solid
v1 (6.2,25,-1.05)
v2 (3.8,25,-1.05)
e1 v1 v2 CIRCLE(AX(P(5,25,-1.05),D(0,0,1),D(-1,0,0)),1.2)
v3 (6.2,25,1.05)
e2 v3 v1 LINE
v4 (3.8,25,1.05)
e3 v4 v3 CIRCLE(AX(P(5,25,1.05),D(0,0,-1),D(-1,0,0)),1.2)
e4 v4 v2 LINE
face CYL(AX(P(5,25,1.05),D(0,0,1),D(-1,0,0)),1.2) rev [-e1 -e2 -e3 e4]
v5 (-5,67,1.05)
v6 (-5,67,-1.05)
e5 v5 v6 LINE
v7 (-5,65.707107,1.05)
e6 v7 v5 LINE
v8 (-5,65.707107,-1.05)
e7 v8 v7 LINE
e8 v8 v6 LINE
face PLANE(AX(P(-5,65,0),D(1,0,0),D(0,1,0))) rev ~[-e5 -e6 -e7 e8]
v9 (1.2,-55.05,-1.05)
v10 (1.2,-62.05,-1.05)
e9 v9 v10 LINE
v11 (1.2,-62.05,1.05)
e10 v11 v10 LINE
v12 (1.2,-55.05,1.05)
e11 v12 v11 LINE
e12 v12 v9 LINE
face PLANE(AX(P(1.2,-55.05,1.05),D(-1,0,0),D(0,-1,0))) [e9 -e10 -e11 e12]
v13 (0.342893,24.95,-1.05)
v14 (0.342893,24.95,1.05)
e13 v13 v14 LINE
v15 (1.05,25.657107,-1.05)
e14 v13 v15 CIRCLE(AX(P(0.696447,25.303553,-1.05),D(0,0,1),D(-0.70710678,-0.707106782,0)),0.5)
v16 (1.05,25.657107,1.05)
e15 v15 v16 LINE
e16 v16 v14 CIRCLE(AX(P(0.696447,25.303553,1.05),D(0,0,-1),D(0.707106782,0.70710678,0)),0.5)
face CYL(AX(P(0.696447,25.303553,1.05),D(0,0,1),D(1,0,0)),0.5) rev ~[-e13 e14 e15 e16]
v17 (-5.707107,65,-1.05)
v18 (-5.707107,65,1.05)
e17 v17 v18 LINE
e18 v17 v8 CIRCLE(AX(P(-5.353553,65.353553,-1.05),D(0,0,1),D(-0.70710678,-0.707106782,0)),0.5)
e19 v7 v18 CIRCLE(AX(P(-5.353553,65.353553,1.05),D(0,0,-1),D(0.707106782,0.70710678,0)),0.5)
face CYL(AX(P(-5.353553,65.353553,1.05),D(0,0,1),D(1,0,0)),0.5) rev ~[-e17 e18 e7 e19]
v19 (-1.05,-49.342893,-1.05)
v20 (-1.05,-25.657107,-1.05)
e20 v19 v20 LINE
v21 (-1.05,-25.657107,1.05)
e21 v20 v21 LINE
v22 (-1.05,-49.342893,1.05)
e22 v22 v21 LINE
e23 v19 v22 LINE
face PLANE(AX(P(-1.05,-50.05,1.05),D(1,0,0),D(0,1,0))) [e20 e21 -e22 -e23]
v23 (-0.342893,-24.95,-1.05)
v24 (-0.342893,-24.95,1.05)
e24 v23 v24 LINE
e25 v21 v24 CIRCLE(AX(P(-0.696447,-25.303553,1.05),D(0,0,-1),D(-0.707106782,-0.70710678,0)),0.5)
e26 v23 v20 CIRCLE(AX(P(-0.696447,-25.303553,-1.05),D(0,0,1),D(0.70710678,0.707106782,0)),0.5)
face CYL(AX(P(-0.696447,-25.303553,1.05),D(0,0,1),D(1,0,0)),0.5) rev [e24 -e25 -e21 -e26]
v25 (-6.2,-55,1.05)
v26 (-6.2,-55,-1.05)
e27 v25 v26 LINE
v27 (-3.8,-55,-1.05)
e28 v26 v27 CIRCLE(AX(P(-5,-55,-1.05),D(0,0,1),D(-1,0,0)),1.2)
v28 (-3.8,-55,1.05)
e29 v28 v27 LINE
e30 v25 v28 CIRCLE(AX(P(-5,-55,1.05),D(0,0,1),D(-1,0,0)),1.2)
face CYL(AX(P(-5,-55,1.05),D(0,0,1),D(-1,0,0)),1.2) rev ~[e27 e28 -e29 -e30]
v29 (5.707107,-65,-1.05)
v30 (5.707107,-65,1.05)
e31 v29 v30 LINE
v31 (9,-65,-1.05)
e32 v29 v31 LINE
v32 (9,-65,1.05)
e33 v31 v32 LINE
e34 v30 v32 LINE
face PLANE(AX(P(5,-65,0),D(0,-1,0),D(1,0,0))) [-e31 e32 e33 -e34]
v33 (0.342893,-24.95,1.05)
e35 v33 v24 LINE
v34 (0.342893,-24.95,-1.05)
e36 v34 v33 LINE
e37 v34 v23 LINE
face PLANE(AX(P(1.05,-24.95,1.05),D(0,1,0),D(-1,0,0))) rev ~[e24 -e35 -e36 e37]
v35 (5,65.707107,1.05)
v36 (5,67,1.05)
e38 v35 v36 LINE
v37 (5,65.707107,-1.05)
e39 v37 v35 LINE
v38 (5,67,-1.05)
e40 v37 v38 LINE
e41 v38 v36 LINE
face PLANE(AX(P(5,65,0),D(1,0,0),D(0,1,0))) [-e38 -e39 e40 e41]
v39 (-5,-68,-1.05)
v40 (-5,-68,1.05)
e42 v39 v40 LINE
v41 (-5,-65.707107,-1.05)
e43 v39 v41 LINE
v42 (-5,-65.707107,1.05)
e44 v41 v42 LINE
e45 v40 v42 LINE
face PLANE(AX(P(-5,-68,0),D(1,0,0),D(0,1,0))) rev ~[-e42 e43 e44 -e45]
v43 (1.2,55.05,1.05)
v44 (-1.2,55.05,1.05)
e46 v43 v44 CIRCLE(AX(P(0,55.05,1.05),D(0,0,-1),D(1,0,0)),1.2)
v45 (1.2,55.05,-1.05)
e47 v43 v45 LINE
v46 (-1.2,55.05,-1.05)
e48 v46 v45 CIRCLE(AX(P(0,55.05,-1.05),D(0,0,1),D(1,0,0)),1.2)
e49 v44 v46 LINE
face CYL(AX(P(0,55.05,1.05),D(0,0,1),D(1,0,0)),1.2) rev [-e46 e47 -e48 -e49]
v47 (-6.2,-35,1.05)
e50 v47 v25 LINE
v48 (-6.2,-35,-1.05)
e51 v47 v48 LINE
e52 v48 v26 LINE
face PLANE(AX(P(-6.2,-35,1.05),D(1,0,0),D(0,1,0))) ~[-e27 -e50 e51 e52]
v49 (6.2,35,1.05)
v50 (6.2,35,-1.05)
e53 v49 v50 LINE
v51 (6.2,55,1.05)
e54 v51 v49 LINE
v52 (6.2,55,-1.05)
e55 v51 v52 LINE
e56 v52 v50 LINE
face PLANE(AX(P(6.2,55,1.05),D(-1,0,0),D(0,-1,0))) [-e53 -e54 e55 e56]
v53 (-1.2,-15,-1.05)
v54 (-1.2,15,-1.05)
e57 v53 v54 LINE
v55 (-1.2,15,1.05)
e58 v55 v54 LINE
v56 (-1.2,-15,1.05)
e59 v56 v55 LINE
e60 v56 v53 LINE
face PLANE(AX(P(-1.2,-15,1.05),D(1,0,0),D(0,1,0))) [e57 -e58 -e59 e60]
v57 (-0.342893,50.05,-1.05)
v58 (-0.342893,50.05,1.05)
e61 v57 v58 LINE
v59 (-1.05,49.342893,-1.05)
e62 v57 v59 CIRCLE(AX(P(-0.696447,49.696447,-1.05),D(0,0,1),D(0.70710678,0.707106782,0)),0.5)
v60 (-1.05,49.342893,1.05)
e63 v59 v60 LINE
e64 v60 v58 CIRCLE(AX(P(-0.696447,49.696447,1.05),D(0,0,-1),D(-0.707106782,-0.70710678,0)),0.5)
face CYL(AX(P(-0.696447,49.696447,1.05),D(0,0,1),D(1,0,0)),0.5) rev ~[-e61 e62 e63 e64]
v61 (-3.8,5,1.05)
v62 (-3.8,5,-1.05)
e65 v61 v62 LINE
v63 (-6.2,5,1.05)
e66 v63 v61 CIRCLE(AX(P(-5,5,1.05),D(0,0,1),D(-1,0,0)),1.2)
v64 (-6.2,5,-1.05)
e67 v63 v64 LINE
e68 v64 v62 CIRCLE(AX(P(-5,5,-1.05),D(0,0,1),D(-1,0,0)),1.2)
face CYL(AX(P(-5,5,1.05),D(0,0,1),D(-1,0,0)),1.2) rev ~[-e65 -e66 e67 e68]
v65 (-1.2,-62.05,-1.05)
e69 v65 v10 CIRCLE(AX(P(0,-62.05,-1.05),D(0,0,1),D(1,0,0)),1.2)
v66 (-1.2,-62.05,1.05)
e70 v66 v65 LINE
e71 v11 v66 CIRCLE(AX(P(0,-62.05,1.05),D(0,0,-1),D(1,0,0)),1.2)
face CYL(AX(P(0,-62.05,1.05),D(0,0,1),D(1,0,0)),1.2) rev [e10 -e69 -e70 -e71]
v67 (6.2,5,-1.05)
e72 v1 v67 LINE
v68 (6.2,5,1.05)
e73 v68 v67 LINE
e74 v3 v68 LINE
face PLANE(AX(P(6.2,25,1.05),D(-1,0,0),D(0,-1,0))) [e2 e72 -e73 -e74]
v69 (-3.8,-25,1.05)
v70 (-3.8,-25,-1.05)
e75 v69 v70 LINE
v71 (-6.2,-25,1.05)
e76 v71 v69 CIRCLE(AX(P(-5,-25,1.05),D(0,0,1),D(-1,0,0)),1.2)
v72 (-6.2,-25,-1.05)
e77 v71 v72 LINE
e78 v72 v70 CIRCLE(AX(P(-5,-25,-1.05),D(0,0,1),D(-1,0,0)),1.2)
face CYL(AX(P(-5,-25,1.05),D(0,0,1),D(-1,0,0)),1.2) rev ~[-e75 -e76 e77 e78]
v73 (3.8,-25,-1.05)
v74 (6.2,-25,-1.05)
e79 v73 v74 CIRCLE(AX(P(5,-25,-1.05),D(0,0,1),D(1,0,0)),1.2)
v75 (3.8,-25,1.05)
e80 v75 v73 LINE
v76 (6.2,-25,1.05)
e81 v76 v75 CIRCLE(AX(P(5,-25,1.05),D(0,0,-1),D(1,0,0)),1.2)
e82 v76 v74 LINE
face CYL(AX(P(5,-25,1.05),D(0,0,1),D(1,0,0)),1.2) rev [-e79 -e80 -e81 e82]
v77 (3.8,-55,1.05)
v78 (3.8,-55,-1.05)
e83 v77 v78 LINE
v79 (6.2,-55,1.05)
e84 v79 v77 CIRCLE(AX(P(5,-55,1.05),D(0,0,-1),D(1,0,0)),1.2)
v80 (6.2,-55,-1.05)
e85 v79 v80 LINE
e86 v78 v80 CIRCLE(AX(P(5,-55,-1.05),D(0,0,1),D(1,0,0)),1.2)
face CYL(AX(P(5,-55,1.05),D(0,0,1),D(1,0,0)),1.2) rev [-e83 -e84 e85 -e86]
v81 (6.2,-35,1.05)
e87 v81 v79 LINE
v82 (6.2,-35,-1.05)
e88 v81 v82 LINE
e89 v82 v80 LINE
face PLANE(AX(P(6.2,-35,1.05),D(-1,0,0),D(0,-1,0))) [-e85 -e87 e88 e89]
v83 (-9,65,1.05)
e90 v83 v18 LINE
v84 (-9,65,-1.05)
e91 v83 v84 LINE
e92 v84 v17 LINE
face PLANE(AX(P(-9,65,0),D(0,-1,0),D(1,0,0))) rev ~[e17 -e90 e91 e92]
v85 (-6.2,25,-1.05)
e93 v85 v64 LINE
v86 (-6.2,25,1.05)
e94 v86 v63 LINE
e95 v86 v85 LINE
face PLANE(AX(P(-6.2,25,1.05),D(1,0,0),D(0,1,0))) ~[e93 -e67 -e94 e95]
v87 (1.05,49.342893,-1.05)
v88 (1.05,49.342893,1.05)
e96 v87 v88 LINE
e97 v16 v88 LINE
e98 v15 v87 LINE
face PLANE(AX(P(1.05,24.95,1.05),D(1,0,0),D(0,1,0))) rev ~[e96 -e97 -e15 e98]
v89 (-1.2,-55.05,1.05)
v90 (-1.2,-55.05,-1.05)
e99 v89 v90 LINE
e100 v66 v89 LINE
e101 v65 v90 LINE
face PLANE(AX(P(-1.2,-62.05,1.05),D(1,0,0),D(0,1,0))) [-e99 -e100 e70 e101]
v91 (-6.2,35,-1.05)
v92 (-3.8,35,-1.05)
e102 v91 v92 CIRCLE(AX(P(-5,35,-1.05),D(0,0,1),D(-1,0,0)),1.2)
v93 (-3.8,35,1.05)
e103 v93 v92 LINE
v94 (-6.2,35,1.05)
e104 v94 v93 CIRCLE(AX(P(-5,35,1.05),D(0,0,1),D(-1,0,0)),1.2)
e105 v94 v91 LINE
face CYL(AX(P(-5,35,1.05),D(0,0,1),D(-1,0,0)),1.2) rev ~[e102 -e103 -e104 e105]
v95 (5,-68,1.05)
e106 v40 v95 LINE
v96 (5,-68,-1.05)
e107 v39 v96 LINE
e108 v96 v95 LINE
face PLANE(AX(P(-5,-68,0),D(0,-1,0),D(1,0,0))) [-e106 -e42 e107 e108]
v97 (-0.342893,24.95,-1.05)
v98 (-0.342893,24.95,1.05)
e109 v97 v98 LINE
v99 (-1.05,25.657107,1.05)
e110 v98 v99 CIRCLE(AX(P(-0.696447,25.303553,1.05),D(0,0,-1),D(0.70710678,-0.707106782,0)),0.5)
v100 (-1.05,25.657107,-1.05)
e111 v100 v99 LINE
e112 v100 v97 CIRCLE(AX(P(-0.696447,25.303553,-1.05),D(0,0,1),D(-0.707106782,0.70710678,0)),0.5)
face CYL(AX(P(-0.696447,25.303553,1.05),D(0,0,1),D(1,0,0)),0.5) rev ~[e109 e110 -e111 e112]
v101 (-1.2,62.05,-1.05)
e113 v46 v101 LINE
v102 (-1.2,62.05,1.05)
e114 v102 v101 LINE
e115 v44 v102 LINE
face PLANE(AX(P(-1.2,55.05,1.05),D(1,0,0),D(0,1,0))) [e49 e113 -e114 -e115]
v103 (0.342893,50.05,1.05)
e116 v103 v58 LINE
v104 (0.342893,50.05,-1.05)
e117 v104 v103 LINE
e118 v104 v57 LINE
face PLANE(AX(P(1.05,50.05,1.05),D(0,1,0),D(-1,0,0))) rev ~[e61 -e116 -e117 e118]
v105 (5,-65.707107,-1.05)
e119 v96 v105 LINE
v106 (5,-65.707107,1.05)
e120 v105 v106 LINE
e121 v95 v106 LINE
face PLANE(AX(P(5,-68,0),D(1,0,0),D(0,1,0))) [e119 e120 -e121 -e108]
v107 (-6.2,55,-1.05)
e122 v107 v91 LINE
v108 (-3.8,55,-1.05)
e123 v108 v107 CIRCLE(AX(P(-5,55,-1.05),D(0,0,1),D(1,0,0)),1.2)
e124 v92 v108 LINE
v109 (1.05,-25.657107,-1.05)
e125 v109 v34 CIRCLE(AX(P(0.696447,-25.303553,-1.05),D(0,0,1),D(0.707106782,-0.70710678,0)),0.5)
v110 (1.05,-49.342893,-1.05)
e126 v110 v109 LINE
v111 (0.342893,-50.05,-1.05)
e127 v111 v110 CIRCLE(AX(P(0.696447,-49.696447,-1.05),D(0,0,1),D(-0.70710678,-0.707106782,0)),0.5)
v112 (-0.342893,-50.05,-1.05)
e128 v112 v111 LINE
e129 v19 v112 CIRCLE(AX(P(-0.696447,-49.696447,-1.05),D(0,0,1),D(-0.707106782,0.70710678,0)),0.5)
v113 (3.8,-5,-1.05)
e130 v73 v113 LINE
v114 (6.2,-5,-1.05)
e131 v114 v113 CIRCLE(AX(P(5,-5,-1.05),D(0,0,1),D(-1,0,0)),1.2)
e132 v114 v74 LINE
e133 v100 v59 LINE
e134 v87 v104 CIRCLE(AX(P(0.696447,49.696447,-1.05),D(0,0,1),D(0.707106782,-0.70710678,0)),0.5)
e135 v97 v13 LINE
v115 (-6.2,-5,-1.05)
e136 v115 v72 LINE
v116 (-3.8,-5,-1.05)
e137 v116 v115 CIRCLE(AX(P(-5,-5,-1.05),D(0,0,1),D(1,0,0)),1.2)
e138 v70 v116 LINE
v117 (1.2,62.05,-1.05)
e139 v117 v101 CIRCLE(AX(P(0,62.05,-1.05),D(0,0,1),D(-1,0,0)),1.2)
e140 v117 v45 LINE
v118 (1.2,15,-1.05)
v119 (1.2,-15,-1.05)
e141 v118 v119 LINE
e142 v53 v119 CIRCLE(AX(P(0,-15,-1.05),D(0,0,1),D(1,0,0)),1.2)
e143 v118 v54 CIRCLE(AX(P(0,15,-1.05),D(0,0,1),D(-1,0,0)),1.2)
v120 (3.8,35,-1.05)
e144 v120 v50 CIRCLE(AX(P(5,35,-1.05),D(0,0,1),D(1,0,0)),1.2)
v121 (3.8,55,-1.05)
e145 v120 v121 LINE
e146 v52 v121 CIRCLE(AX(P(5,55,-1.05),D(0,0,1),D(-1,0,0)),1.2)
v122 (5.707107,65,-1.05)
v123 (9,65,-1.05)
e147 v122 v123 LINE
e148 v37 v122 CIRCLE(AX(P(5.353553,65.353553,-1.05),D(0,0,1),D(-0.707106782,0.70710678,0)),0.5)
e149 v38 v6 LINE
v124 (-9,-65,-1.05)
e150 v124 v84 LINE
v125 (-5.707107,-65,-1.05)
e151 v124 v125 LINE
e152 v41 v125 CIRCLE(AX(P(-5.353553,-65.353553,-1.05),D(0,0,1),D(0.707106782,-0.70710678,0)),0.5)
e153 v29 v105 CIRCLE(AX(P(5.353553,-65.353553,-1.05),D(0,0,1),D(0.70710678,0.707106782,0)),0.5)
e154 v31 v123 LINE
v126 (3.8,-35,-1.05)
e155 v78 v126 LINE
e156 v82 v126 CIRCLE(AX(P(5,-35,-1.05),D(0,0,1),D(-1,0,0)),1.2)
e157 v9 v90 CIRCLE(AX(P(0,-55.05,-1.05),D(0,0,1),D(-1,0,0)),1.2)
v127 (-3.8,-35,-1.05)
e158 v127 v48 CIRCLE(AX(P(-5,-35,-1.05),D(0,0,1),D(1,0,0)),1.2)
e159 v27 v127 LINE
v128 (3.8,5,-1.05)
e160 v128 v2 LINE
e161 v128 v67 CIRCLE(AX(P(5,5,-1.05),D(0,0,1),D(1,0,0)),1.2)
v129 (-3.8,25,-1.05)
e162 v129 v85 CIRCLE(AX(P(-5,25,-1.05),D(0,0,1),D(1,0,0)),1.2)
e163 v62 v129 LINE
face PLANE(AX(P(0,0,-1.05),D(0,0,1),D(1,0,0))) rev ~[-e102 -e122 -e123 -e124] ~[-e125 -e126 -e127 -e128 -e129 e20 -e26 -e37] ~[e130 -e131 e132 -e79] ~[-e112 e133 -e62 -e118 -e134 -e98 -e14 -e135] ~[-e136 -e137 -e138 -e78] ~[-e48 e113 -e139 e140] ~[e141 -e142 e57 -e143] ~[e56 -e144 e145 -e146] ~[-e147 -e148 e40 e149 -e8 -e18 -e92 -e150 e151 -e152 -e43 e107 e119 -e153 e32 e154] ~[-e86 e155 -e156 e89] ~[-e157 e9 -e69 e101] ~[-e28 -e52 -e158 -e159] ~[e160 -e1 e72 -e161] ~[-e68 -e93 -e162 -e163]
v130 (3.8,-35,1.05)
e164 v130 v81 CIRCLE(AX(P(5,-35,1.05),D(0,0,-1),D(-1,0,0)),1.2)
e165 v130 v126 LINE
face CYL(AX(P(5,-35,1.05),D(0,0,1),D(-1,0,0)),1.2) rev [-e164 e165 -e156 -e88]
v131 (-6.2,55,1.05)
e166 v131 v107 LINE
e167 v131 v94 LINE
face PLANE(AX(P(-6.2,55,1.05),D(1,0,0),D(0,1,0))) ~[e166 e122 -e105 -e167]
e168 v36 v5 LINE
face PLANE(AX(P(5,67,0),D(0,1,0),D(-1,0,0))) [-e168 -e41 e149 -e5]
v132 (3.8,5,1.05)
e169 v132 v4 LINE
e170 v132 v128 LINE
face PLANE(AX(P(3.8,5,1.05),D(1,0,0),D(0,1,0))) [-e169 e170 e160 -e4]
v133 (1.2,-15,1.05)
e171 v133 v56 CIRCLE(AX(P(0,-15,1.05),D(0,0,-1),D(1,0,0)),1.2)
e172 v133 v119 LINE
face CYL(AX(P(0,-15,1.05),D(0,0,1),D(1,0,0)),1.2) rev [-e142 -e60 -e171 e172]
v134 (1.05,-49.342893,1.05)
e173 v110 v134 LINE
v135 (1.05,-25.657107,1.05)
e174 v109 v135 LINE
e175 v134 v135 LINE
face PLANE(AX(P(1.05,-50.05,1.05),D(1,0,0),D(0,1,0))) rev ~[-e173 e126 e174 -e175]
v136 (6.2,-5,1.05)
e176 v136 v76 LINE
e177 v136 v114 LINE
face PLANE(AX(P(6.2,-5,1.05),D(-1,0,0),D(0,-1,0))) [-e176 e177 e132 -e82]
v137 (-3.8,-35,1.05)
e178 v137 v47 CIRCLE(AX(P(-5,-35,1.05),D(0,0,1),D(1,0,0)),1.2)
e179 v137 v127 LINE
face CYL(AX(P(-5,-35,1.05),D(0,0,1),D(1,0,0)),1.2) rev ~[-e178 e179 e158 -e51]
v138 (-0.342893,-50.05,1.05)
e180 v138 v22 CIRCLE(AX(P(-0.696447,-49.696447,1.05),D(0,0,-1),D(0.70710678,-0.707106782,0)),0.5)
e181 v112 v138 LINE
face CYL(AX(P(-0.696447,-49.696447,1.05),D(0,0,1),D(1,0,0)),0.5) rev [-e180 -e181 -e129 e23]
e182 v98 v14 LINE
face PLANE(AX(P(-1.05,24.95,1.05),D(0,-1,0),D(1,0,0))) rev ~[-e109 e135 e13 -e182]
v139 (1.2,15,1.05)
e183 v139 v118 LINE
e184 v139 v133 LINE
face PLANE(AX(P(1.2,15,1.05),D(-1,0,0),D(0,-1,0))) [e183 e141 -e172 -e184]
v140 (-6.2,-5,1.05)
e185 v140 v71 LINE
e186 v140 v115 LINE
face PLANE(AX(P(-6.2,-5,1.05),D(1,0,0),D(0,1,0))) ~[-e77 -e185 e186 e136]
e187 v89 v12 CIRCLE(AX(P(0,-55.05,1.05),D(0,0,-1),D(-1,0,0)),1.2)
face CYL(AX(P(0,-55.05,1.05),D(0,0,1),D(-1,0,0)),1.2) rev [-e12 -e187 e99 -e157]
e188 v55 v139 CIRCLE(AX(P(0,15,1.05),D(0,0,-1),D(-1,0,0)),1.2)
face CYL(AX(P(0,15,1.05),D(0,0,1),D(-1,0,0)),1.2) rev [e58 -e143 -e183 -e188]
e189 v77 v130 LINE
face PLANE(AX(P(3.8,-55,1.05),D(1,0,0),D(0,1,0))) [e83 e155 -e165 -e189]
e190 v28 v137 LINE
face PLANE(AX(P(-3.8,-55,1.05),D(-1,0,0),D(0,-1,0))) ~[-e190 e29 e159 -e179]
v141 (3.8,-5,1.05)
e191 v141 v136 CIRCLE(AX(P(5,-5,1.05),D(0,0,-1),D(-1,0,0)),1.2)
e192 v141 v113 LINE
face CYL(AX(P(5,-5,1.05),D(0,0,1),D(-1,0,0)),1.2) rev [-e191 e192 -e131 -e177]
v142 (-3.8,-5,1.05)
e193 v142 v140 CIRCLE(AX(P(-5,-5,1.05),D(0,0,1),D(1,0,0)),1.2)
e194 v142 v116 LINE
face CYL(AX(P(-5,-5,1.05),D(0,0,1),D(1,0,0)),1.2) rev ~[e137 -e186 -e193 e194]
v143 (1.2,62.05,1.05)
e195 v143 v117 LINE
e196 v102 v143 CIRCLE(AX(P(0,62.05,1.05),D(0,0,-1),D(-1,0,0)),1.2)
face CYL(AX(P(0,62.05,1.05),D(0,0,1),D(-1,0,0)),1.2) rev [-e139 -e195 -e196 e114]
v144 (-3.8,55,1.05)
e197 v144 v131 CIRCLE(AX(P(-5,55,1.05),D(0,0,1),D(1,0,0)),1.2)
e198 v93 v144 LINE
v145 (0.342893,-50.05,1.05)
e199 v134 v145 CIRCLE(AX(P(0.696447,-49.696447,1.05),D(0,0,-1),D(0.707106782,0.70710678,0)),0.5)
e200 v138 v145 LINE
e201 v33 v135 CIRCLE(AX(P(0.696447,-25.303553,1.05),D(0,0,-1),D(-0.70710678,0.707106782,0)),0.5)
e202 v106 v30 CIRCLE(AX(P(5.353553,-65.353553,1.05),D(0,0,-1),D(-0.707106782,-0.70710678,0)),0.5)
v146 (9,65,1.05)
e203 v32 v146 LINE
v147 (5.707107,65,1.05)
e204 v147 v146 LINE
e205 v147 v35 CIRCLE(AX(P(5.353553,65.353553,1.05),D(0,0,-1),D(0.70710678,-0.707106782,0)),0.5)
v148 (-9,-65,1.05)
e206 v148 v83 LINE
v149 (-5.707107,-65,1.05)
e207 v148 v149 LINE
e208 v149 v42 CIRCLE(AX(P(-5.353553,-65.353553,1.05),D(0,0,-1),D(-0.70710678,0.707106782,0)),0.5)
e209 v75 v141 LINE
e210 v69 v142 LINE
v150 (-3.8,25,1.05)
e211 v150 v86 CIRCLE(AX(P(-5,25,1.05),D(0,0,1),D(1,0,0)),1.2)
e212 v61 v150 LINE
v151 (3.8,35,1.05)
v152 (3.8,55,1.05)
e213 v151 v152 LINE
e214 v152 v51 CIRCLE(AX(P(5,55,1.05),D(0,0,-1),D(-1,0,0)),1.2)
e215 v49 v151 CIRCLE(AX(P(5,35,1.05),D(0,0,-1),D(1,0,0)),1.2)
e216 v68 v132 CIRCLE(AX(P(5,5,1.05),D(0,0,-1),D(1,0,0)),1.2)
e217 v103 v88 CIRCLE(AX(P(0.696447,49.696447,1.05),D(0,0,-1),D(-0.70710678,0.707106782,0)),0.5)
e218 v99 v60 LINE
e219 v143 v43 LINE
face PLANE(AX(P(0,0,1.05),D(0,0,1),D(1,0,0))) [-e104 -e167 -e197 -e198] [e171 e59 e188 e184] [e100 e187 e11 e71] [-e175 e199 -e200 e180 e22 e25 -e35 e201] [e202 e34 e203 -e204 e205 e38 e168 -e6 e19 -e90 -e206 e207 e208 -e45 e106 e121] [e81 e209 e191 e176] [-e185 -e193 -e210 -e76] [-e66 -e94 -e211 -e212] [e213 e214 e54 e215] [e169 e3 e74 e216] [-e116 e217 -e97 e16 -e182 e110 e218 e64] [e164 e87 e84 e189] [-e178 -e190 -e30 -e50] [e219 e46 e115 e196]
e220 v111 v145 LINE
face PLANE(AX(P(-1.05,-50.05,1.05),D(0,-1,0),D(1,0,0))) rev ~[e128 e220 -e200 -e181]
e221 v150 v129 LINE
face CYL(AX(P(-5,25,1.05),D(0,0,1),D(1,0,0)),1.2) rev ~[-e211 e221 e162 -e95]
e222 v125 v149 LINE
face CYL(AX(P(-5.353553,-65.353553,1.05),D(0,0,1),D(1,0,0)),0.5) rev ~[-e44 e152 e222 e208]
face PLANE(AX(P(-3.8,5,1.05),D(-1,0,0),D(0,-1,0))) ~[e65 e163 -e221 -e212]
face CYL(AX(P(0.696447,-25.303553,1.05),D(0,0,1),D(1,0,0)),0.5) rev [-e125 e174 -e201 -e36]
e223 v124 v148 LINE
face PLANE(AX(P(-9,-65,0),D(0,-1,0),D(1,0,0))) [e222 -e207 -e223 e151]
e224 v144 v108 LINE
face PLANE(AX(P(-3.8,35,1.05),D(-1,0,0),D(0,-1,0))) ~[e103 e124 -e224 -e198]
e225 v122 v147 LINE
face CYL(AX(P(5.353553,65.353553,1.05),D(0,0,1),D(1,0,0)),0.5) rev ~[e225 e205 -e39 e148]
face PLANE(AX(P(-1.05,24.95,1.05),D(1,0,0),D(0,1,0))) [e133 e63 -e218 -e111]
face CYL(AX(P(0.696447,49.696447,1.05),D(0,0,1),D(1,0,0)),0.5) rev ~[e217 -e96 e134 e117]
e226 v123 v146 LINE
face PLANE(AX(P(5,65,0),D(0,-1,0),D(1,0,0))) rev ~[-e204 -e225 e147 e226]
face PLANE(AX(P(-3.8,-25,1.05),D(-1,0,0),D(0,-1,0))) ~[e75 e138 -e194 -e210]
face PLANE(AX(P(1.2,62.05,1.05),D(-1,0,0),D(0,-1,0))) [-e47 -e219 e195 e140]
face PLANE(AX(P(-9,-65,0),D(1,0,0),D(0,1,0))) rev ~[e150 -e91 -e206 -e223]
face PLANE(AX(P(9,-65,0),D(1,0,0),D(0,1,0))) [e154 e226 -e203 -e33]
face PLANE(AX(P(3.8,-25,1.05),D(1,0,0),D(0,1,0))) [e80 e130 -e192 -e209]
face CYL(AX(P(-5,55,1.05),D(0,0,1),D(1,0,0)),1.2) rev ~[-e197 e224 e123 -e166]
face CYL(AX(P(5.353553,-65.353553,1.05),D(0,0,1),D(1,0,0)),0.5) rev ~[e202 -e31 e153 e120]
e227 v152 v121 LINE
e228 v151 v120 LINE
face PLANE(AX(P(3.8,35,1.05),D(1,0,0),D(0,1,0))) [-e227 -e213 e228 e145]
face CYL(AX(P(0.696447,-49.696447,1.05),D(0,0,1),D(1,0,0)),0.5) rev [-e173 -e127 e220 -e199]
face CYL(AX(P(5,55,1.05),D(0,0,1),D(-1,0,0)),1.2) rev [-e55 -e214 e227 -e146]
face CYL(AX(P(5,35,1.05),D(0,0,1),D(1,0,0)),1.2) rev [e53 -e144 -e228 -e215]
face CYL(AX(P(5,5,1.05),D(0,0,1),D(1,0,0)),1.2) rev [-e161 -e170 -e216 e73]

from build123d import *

# Parameters (mm, degrees)
SKETCH_1_W          = 18
SKETCH_1_H          = 130
SKETCH_1_W_2        = 5
SKETCH_1_H_2        = 2
SKETCH_1_H_3        = 3
EXTRUDE_1_DEPTH     = 1.05
SKETCH_5_R          = 0.5
CUT_EXTRUDE_3_DEPTH = 69.625141166
SKETCH_2_W          = 1.05
SKETCH_2_H          = 25.1
CUT_EXTRUDE_1_DEPTH = 10
SKETCH_6_R          = 0.5
CUT_EXTRUDE_4_DEPTH = 69.625141166
CUT_EXTRUDE_5_DEPTH = 69.625141166
CUT_EXTRUDE_6_DEPTH = 69.625141166


with BuildPart() as part:
    # 草图1 → 凸台-拉伸1 (new, symmetric)
    with BuildSketch(Plane.XY):
        Rectangle(SKETCH_1_W, SKETCH_1_H)
        with Locations((-2.5, 66)):
            Rectangle(SKETCH_1_W_2, SKETCH_1_H_2)
        with Locations((2.5, 66)):
            Rectangle(SKETCH_1_W_2, SKETCH_1_H_2)
        with Locations((2.5, -66.5)):
            Rectangle(SKETCH_1_W_2, SKETCH_1_H_3)
        with Locations((-2.5, -66.5)):
            Rectangle(SKETCH_1_W_2, SKETCH_1_H_3)
    extrude(amount=EXTRUDE_1_DEPTH, both=True)

    # 草图5 → 切除-拉伸3 (cut, through all)
    with BuildSketch(Plane.XY.offset(1.05)):
        with Locations((5.353553391, 65.353553391)):
            Circle(SKETCH_5_R)
        with Locations((-5.353553391, 65.353553391)):
            Circle(SKETCH_5_R)
        with Locations((5.353553391, -65.353553391)):
            Circle(SKETCH_5_R)
        with Locations((-5.353553391, -65.353553391)):
            Circle(SKETCH_5_R)
    extrude(amount=-CUT_EXTRUDE_3_DEPTH, mode=Mode.SUBTRACT)

    # 草图2 → 切除-拉伸1 (cut)
    with BuildSketch(Plane.XY.offset(1.05)):
        with Locations((0.525, 37.5)):
            Rectangle(SKETCH_2_W, SKETCH_2_H)
        with Locations((-0.525, 37.5)):
            Rectangle(SKETCH_2_W, SKETCH_2_H)
        with Locations((0.525, -37.5)):
            Rectangle(SKETCH_2_W, SKETCH_2_H)
        with Locations((-0.525, -37.5)):
            Rectangle(SKETCH_2_W, SKETCH_2_H)
    extrude(amount=-CUT_EXTRUDE_1_DEPTH, mode=Mode.SUBTRACT)

    # 草图6 → 切除-拉伸4 (cut, through all)
    with BuildSketch(Plane.XY.offset(1.05)):
        with Locations((0.696446609, 49.696446609)):
            Circle(SKETCH_6_R)
        with Locations((-0.696446609, 49.696446609)):
            Circle(SKETCH_6_R)
        with Locations((0.696446609, 25.303553391)):
            Circle(SKETCH_6_R)
        with Locations((-0.696446609, 25.303553391)):
            Circle(SKETCH_6_R)
    cut_extrude_4 = extrude(amount=-CUT_EXTRUDE_4_DEPTH, mode=Mode.SUBTRACT)

    # 镜向1: 切除-拉伸4 across plane
    add(cut_extrude_4.mirror(Plane.ZX), mode=Mode.SUBTRACT)

    # 草图4 → 切除-拉伸5 (cut, through all)
    with BuildSketch(Plane.XY.offset(1.05)):
        with BuildLine():
            Line((6.2, 55), (6.2, 35))
            ThreePointArc((6.2, 35), (5, 33.8), (3.8, 35))
            Line((3.8, 35), (3.8, 55))
            ThreePointArc((3.8, 55), (5, 56.2), (6.2, 55))
        make_face()
        with BuildLine():
            Line((6.2, 25), (6.2, 5))
            ThreePointArc((6.2, 5), (5, 3.8), (3.8, 5))
            Line((3.8, 5), (3.8, 25))
            ThreePointArc((3.8, 25), (5, 26.2), (6.2, 25))
        make_face()
        with BuildLine():
            Line((6.2, -5), (6.2, -25))
            ThreePointArc((6.2, -25), (5, -26.2), (3.8, -25))
            Line((3.8, -25), (3.8, -5))
            ThreePointArc((3.8, -5), (5, -3.8), (6.2, -5))
        make_face()
        with BuildLine():
            Line((3.8, -55), (3.8, -35))
            ThreePointArc((3.8, -35), (5, -33.8), (6.2, -35))
            Line((6.2, -35), (6.2, -55))
            ThreePointArc((6.2, -55), (5, -56.2), (3.8, -55))
        make_face()
    cut_extrude_5 = extrude(amount=-CUT_EXTRUDE_5_DEPTH, mode=Mode.SUBTRACT)

    # 镜向2: 切除-拉伸5 across plane
    add(cut_extrude_5.mirror(Plane(origin=(0, 0, 0), x_dir=(0, 0, 1), z_dir=(1, 0, 0))), mode=Mode.SUBTRACT)

    # 草图7 → 切除-拉伸6 (cut, through all)
    with BuildSketch(Plane.XY.offset(1.05)):
        with BuildLine():
            Line((1.2, 62.05), (1.2, 55.05))
            ThreePointArc((1.2, 55.05), (0, 53.85), (-1.2, 55.05))
            Line((-1.2, 55.05), (-1.2, 62.05))
            ThreePointArc((-1.2, 62.05), (0, 63.25), (1.2, 62.05))
        make_face()
        with BuildLine():
            Line((1.2, 15), (1.2, -15))
            ThreePointArc((1.2, -15), (0, -16.2), (-1.2, -15))
            Line((-1.2, -15), (-1.2, 15))
            ThreePointArc((-1.2, 15), (0, 16.2), (1.2, 15))
        make_face()
        with BuildLine():
            Line((1.2, -55.05), (1.2, -62.05))
            ThreePointArc((1.2, -62.05), (0, -63.25), (-1.2, -62.05))
            Line((-1.2, -62.05), (-1.2, -55.05))
            ThreePointArc((-1.2, -55.05), (0, -53.85), (1.2, -55.05))
        make_face()
    extrude(amount=-CUT_EXTRUDE_6_DEPTH, mode=Mode.SUBTRACT)


solid = part.part
